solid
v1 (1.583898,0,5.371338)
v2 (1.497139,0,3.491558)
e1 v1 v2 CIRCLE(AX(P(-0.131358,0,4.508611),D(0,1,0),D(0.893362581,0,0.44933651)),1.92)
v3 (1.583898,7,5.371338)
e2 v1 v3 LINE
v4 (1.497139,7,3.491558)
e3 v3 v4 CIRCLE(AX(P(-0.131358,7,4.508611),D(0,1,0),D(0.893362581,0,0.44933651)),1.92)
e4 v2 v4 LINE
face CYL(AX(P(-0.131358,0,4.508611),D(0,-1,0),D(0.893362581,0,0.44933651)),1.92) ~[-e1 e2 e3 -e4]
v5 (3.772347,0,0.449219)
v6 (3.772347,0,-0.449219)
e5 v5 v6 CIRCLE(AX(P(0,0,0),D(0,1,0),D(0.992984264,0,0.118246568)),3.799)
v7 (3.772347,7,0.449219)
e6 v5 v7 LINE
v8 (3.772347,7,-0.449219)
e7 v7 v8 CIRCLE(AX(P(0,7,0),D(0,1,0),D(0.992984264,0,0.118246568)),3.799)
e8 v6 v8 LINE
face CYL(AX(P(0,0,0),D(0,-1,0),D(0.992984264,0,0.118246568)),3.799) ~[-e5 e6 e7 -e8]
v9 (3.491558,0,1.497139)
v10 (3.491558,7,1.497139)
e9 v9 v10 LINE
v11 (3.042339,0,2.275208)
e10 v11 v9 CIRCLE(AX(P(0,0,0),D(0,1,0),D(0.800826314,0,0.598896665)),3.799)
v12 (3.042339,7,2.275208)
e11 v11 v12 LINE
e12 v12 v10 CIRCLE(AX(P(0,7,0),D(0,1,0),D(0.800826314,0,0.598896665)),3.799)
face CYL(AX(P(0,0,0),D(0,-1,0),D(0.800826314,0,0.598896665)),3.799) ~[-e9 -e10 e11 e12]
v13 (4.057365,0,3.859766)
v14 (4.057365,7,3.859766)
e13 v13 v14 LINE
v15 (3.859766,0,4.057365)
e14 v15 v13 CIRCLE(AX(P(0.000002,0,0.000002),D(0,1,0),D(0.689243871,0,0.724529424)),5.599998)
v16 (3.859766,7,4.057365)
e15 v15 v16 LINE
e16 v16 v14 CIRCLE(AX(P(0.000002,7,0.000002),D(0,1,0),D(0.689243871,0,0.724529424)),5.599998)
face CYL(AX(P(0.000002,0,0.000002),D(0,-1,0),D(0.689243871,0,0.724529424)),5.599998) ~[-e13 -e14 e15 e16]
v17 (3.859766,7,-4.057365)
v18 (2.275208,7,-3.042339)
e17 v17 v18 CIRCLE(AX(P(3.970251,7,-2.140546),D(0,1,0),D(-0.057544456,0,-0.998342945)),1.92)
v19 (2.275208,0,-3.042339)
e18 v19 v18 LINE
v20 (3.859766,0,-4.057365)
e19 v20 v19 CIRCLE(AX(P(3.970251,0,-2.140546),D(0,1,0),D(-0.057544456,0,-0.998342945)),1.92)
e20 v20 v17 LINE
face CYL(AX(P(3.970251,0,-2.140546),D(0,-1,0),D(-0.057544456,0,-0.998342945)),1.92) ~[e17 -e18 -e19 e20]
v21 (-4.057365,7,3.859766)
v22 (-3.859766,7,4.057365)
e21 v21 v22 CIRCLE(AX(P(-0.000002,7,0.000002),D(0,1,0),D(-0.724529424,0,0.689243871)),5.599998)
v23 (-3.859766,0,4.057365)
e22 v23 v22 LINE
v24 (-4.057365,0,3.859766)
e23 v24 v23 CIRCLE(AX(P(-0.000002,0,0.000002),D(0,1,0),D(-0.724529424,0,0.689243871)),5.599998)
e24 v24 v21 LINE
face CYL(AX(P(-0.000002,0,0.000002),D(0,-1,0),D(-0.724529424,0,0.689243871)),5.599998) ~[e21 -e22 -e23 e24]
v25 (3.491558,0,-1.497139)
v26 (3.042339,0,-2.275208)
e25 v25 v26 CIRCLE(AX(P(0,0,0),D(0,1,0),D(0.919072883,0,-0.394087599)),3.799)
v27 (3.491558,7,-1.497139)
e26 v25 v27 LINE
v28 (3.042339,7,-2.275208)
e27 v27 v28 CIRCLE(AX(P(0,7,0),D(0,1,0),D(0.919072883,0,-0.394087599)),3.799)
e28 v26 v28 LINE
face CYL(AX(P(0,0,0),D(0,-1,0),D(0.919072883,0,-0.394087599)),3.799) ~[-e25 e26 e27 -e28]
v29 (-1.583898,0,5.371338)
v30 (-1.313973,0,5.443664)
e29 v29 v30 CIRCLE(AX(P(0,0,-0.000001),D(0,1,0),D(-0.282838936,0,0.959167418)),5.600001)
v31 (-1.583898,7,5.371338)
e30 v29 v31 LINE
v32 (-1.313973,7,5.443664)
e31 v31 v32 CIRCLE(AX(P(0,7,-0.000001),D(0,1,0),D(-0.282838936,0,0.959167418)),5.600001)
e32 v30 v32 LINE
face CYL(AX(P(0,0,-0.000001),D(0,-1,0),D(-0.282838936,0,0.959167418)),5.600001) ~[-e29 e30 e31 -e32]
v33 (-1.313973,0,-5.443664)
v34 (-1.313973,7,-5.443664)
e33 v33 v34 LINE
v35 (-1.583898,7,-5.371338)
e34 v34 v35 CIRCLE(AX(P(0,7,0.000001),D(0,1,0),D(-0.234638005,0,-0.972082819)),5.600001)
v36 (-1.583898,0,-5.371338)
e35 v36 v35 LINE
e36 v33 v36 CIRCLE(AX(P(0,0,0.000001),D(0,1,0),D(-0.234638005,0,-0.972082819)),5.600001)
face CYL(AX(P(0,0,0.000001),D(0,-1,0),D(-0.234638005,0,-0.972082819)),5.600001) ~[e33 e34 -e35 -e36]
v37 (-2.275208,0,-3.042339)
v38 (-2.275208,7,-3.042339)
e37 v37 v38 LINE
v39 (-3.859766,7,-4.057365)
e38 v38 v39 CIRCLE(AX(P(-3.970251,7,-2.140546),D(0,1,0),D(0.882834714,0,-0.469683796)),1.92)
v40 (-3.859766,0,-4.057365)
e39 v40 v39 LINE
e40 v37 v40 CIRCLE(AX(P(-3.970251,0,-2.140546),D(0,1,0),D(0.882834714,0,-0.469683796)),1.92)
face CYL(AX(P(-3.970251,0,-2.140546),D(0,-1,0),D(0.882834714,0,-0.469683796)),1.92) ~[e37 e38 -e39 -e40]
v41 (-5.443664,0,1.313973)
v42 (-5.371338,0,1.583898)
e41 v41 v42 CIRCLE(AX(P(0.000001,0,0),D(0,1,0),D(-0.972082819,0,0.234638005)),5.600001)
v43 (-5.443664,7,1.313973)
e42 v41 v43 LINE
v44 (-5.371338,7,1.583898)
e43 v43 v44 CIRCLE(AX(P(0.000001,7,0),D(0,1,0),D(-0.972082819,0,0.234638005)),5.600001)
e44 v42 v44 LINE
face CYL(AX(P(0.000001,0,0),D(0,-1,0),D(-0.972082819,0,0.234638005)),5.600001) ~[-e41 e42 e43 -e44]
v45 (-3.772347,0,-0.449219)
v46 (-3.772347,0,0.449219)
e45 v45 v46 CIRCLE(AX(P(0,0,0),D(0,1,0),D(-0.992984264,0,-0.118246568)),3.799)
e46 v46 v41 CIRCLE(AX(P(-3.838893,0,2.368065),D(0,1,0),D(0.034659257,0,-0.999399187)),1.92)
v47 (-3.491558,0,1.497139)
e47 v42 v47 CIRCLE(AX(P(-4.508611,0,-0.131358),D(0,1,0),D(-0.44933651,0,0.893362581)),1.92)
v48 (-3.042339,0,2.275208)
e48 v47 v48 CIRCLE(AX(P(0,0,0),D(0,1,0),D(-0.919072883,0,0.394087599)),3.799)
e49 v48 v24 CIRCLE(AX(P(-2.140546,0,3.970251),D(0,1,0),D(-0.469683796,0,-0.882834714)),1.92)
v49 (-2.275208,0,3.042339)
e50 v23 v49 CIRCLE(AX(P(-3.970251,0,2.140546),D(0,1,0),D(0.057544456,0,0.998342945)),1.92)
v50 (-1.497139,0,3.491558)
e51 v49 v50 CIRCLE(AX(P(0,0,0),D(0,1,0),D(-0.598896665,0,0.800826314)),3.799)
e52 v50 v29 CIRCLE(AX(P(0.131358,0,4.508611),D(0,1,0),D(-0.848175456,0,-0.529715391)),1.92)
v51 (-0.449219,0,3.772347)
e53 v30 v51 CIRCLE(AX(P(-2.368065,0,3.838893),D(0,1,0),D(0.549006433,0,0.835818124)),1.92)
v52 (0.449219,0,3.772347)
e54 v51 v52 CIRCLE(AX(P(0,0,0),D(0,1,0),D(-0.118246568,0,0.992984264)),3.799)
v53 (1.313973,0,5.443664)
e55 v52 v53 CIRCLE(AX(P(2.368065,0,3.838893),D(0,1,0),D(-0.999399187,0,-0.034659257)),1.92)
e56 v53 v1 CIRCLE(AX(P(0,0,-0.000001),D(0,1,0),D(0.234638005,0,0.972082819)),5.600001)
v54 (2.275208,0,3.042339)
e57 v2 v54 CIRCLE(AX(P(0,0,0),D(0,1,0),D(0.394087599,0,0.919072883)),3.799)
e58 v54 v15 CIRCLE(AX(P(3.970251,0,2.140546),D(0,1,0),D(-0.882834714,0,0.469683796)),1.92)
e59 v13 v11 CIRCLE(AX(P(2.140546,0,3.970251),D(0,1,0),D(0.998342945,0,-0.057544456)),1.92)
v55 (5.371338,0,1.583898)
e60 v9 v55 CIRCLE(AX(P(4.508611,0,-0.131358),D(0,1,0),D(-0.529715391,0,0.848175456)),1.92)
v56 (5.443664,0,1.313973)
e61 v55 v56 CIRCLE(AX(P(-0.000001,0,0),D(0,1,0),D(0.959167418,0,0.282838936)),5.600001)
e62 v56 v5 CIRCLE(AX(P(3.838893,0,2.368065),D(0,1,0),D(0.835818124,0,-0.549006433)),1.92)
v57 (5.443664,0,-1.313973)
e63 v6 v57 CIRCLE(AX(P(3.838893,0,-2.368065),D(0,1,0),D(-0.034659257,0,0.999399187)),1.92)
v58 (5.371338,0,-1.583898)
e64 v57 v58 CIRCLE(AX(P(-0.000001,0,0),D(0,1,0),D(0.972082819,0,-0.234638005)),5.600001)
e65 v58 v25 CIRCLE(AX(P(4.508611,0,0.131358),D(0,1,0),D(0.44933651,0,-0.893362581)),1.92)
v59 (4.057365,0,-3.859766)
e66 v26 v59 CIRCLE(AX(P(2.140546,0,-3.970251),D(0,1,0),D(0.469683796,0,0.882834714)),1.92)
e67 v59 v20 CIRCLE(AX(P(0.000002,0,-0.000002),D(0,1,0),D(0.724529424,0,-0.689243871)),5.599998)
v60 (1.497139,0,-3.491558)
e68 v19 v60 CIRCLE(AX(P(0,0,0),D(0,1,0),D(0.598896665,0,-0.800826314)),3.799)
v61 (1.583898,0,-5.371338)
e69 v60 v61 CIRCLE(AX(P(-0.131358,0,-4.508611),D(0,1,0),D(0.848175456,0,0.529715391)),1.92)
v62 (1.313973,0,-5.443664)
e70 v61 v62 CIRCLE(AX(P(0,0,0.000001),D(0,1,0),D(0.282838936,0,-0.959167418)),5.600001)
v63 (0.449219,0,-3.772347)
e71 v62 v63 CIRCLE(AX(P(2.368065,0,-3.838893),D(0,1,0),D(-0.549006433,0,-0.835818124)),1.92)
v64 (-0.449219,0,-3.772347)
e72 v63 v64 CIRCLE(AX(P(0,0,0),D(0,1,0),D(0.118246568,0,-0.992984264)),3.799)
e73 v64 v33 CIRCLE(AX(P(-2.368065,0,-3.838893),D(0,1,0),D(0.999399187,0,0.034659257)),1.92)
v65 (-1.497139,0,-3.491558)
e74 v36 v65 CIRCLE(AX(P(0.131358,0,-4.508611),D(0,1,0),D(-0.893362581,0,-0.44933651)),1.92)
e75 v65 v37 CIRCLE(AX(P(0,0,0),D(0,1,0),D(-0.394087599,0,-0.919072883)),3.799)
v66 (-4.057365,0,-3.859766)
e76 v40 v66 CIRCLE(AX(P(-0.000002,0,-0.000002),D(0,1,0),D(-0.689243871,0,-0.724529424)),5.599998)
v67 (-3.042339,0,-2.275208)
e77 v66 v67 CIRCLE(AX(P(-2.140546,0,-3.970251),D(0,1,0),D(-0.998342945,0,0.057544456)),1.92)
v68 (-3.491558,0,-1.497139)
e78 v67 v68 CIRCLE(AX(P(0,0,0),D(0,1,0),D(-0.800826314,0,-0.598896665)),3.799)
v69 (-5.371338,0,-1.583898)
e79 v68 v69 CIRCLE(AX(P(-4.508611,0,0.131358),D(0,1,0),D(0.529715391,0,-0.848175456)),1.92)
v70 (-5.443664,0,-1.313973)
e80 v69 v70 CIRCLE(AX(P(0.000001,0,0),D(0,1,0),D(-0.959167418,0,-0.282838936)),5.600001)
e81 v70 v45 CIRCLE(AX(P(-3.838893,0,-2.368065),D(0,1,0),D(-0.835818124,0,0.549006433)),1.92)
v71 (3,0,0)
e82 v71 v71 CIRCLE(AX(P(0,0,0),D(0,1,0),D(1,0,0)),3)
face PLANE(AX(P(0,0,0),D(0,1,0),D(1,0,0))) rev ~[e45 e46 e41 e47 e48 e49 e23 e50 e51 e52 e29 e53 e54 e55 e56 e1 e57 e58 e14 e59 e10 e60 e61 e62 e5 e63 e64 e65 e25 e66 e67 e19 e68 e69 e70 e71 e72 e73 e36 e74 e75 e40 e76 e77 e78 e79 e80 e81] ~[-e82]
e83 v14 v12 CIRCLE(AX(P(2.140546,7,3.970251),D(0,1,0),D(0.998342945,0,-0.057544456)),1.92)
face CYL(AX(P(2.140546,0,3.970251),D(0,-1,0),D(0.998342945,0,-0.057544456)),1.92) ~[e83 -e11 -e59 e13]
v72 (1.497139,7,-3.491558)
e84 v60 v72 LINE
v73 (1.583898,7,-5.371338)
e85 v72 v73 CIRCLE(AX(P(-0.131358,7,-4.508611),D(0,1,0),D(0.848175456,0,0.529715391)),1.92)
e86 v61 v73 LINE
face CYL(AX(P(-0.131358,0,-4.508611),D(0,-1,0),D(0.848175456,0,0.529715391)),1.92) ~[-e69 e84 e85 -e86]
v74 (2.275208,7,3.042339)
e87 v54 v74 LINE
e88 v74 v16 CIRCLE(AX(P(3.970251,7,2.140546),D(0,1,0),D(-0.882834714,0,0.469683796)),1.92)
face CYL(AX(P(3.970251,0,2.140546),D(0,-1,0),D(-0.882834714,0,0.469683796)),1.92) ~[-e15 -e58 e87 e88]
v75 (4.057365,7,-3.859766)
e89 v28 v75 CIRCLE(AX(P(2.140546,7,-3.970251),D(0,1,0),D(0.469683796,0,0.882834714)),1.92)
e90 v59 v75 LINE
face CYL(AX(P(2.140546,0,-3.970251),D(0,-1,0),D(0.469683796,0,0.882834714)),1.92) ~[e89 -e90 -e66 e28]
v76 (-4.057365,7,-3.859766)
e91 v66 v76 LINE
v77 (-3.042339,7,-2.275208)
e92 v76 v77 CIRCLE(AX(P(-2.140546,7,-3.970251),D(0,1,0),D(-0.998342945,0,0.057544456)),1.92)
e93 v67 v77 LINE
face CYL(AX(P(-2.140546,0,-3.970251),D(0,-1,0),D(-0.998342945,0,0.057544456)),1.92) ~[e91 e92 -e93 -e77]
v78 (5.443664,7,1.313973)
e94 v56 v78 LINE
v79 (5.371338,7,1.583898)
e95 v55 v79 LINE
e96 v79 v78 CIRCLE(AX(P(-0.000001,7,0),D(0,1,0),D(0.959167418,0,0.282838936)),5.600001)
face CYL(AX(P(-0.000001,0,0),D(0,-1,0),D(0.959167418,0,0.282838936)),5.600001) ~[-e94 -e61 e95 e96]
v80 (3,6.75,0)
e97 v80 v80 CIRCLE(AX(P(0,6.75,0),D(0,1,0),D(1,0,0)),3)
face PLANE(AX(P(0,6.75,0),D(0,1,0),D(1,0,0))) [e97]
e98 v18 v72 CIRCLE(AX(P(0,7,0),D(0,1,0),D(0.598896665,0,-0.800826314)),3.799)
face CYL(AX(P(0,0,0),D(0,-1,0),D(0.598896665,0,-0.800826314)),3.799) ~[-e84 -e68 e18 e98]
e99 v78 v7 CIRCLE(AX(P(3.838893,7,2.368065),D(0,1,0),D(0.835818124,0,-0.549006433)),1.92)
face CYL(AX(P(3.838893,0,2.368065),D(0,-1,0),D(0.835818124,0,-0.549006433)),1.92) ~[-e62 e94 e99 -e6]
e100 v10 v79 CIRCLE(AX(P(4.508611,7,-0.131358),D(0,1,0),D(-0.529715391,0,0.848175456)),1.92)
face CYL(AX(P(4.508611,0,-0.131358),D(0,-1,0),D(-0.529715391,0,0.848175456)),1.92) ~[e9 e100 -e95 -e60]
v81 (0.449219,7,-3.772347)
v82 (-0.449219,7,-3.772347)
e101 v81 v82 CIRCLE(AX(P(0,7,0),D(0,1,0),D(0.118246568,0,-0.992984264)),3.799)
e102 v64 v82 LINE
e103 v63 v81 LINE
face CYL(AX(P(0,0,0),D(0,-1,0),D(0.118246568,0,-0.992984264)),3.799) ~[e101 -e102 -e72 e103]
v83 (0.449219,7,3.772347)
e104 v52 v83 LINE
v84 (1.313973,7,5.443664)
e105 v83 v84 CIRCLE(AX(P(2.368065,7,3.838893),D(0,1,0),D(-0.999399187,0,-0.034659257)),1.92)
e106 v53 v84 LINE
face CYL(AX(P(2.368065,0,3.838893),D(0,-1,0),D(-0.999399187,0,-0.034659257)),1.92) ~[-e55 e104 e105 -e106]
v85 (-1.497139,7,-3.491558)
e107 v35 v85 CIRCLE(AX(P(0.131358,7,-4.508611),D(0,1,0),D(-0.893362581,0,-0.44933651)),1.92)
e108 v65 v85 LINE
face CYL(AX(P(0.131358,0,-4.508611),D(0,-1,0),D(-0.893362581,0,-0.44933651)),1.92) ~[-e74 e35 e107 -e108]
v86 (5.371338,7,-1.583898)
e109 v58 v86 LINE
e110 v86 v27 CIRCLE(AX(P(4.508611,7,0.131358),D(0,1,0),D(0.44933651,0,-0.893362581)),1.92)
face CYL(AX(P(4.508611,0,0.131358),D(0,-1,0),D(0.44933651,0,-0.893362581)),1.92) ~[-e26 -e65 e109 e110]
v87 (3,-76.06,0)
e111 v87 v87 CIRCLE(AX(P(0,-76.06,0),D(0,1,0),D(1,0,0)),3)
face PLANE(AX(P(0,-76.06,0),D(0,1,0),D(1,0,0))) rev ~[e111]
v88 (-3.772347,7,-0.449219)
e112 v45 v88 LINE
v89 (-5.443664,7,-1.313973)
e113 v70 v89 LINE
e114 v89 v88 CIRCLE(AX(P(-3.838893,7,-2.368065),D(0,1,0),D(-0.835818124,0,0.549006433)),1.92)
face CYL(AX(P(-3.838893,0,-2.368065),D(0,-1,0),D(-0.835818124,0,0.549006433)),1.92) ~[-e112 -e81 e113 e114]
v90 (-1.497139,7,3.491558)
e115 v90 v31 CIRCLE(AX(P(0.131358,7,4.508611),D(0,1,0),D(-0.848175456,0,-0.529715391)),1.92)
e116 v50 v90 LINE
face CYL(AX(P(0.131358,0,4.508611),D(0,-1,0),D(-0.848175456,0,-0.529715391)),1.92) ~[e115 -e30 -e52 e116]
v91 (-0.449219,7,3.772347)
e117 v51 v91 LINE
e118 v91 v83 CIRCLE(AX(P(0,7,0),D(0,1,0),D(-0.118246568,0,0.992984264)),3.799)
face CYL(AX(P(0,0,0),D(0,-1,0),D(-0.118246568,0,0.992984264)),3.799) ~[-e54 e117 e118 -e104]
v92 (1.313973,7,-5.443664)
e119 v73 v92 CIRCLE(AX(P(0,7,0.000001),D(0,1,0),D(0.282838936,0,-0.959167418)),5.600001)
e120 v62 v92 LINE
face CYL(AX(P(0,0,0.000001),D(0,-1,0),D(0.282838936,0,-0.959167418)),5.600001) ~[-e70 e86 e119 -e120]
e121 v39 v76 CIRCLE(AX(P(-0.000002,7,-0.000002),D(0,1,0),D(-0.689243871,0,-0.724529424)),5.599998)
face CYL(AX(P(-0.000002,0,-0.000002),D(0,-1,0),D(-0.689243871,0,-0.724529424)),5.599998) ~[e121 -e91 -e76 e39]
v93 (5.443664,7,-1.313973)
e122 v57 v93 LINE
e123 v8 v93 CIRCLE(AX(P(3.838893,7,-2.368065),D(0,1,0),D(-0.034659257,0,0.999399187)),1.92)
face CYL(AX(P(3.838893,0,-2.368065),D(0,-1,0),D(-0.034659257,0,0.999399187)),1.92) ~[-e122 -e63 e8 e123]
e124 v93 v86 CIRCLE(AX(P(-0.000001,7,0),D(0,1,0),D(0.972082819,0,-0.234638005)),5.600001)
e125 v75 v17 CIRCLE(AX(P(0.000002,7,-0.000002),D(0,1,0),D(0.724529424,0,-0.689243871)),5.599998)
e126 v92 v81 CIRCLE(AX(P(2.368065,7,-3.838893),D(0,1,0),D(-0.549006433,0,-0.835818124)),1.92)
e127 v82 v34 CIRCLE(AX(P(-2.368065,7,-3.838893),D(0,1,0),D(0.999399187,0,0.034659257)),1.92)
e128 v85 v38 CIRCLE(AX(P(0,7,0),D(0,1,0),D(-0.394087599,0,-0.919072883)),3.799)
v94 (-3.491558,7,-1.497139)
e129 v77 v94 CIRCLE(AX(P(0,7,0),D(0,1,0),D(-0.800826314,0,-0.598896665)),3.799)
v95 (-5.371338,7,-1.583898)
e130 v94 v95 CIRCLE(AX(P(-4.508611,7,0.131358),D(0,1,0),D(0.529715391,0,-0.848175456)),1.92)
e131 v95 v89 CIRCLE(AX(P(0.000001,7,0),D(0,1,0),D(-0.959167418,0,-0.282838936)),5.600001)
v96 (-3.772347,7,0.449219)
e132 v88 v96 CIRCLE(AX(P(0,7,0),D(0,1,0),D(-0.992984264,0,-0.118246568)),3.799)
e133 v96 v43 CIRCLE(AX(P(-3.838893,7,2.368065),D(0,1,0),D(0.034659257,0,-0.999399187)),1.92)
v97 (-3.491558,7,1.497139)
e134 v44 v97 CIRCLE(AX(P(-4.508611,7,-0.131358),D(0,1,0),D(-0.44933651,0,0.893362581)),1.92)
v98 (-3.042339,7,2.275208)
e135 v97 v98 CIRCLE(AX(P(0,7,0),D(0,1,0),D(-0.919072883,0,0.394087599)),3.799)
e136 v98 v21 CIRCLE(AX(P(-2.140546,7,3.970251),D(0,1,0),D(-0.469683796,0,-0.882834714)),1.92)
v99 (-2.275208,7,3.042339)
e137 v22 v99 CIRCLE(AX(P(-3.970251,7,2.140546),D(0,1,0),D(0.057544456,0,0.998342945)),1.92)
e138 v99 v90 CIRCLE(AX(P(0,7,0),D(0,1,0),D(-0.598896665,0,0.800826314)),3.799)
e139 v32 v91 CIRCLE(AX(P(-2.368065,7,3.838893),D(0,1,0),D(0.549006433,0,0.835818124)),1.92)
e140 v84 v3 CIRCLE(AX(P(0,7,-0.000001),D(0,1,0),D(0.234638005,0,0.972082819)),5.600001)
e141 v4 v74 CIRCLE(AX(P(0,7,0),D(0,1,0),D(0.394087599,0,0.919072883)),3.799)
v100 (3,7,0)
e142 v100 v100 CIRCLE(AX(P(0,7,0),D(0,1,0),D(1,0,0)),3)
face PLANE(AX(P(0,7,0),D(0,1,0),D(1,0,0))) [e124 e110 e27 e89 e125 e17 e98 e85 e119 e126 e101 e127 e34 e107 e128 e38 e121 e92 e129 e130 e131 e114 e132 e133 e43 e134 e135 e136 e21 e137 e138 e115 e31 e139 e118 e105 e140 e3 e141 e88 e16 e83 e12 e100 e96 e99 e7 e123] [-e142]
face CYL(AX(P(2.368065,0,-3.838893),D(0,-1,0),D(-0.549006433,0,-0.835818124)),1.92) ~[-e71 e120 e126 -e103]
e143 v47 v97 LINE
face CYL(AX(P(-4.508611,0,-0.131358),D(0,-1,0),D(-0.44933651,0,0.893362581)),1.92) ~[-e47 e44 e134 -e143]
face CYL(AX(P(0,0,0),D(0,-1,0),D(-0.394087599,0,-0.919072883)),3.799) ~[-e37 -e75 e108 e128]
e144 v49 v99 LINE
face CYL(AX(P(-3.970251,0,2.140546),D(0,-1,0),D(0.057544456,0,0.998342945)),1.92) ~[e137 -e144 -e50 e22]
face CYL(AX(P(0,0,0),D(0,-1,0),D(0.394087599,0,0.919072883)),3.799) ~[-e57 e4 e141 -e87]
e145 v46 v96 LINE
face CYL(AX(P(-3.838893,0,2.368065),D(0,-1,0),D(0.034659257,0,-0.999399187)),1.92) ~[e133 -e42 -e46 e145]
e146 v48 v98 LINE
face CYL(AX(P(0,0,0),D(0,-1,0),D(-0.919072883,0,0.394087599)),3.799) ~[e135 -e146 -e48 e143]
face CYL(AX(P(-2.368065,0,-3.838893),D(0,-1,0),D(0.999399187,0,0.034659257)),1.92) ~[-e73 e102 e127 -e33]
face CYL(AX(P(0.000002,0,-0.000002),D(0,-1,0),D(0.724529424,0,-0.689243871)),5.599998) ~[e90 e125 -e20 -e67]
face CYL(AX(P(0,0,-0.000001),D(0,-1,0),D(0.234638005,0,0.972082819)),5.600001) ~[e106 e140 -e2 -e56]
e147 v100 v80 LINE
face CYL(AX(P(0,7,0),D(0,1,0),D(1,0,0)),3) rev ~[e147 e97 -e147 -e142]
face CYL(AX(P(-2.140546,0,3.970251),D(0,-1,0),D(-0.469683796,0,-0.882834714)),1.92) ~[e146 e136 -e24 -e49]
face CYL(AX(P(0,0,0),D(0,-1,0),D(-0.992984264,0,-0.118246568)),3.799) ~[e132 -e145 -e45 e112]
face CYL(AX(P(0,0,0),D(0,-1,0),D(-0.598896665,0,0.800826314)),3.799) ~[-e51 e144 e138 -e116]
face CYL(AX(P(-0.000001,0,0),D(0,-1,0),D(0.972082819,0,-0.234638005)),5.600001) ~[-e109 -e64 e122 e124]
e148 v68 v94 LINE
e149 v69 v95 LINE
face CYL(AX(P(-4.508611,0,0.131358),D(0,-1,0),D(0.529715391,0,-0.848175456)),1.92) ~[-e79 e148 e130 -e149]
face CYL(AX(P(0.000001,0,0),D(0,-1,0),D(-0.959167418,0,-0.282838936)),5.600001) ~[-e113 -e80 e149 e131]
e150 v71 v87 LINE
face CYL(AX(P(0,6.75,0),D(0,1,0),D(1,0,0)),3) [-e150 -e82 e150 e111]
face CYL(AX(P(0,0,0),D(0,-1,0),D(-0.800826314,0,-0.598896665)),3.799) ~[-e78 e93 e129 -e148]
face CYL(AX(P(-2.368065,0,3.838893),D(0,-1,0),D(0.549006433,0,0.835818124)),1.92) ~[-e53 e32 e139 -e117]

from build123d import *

# Parameters (mm, degrees)
BOSS_EXTRUDE1_DEPTH = 7
SKETCH2_R           = 3
CUT_EXTRUDE1_DEPTH  = 7
BOSS_EXTRUDE2_START = -0.25
SKETCH2_2_R         = 3
BOSS_EXTRUDE2_DEPTH = 82.81


with BuildPart() as part:
    # Sketch1 → Boss-Extrude1 (new body)
    with BuildSketch(Plane(origin=(0, 0, 0), x_dir=(1, 0, 0), z_dir=(0, 1, 0))):
        with BuildLine():
            ThreePointArc((-4.057364733, 3.859765721), (-3.757286187, 2.934610179), (-3.042339168, 2.275208427))
            ThreePointArc((-3.042339168, 2.275208427), (-3.290030509, 1.8995), (-3.491557881, 1.497138792))
            ThreePointArc((-3.491557881, 1.497138792), (-4.420090059, 1.786600197), (-5.371337534, 1.583898071))
            ThreePointArc((-5.371337534, 1.583898071), (-5.409184627, 1.449386653), (-5.443663792, 1.313972801))
            ThreePointArc((-5.443663792, 1.313972801), (-4.721210377, 0.662803872), (-3.77234722, 0.449218713))
            ThreePointArc((-3.77234722, 0.449218713), (-3.799, 0), (-3.77234722, -0.449218713))
            ThreePointArc((-3.77234722, -0.449218713), (-4.721210377, -0.662803872), (-5.443663792, -1.313972801))
            ThreePointArc((-5.443663792, -1.313972801), (-5.409184627, -1.449386653), (-5.371337534, -1.583898071))
            ThreePointArc((-5.371337534, -1.583898071), (-4.420090059, -1.786600197), (-3.491557881, -1.497138792))
            ThreePointArc((-3.491557881, -1.497138792), (-3.290030509, -1.8995), (-3.042339168, -2.275208427))
            ThreePointArc((-3.042339168, -2.275208427), (-3.757286187, -2.934610179), (-4.057364733, -3.859765721))
            ThreePointArc((-4.057364733, -3.859765721), (-3.959797975, -3.959797975), (-3.859765721, -4.057364733))
            ThreePointArc((-3.859765721, -4.057364733), (-2.934610179, -3.757286187), (-2.275208427, -3.042339168))
            ThreePointArc((-2.275208427, -3.042339168), (-1.8995, -3.290030509), (-1.497138792, -3.491557881))
            ThreePointArc((-1.497138792, -3.491557881), (-1.786600197, -4.420090059), (-1.583898071, -5.371337534))
            ThreePointArc((-1.583898071, -5.371337534), (-1.449386653, -5.409184627), (-1.313972801, -5.443663792))
            ThreePointArc((-1.313972801, -5.443663792), (-0.662803872, -4.721210377), (-0.449218713, -3.77234722))
            ThreePointArc((-0.449218713, -3.77234722), (0, -3.799), (0.449218713, -3.77234722))
            ThreePointArc((0.449218713, -3.77234722), (0.662803872, -4.721210377), (1.313972801, -5.443663792))
            ThreePointArc((1.313972801, -5.443663792), (1.449386653, -5.409184627), (1.583898071, -5.371337534))
            ThreePointArc((1.583898071, -5.371337534), (1.786600197, -4.420090059), (1.497138792, -3.491557881))
            ThreePointArc((1.497138792, -3.491557881), (1.8995, -3.290030509), (2.275208427, -3.042339168))
            ThreePointArc((2.275208427, -3.042339168), (2.934610179, -3.757286187), (3.859765721, -4.057364733))
            ThreePointArc((3.859765721, -4.057364733), (3.959797975, -3.959797975), (4.057364733, -3.859765721))
            ThreePointArc((4.057364733, -3.859765721), (3.757286187, -2.934610179), (3.042339168, -2.275208427))
            ThreePointArc((3.042339168, -2.275208427), (3.290030509, -1.8995), (3.491557881, -1.497138792))
            ThreePointArc((3.491557881, -1.497138792), (4.420090059, -1.786600197), (5.371337534, -1.583898071))
            ThreePointArc((5.371337534, -1.583898071), (5.409184627, -1.449386653), (5.443663792, -1.313972801))
            ThreePointArc((5.443663792, -1.313972801), (4.721210377, -0.662803872), (3.77234722, -0.449218713))
            ThreePointArc((3.77234722, -0.449218713), (3.799, 0), (3.77234722, 0.449218713))
            ThreePointArc((3.77234722, 0.449218713), (4.721210377, 0.662803872), (5.443663792, 1.313972801))
            ThreePointArc((5.443663792, 1.313972801), (5.409184627, 1.449386653), (5.371337534, 1.583898071))
            ThreePointArc((5.371337534, 1.583898071), (4.420090059, 1.786600197), (3.491557881, 1.497138792))
            ThreePointArc((3.491557881, 1.497138792), (3.290030509, 1.8995), (3.042339168, 2.275208427))
            ThreePointArc((3.042339168, 2.275208427), (3.757286187, 2.934610179), (4.057364733, 3.859765721))
            ThreePointArc((4.057364733, 3.859765721), (3.959797975, 3.959797975), (3.859765721, 4.057364733))
            ThreePointArc((3.859765721, 4.057364733), (2.934610179, 3.757286187), (2.275208427, 3.042339168))
            ThreePointArc((2.275208427, 3.042339168), (1.8995, 3.290030509), (1.497138792, 3.491557881))
            ThreePointArc((1.497138792, 3.491557881), (1.786600197, 4.420090059), (1.583898071, 5.371337534))
            ThreePointArc((1.583898071, 5.371337534), (1.449386653, 5.409184627), (1.313972801, 5.443663792))
            ThreePointArc((1.313972801, 5.443663792), (0.662803872, 4.721210377), (0.449218713, 3.77234722))
            ThreePointArc((0.449218713, 3.77234722), (0, 3.799), (-0.449218713, 3.77234722))
            ThreePointArc((-0.449218713, 3.77234722), (-0.662803872, 4.721210377), (-1.313972801, 5.443663792))
            ThreePointArc((-1.313972801, 5.443663792), (-1.449386653, 5.409184627), (-1.583898071, 5.371337534))
            ThreePointArc((-1.583898071, 5.371337534), (-1.786600197, 4.420090059), (-1.497138792, 3.491557881))
            ThreePointArc((-1.497138792, 3.491557881), (-1.8995, 3.290030509), (-2.275208427, 3.042339168))
            ThreePointArc((-2.275208427, 3.042339168), (-2.934610179, 3.757286187), (-3.859765721, 4.057364733))
            ThreePointArc((-3.859765721, 4.057364733), (-3.959797975, 3.959797975), (-4.057364733, 3.859765721))
        make_face()
    extrude(amount=BOSS_EXTRUDE1_DEPTH)

    # Sketch2 → Cut-Extrude1 (cut)
    with BuildSketch(Plane(origin=(0, 7, 0), x_dir=(1, 0, 0), z_dir=(0, 1, 0))):
        Circle(SKETCH2_R)
    extrude(amount=-CUT_EXTRUDE1_DEPTH, mode=Mode.SUBTRACT)

    # Sketch2<2> → Boss-Extrude2 (add)
    with BuildSketch(Plane(origin=(0, 7, 0), x_dir=(1, 0, 0), z_dir=(0, 1, 0)).offset(BOSS_EXTRUDE2_START)):
        Circle(SKETCH2_2_R)
    extrude(amount=-BOSS_EXTRUDE2_DEPTH)


solid = part.part
